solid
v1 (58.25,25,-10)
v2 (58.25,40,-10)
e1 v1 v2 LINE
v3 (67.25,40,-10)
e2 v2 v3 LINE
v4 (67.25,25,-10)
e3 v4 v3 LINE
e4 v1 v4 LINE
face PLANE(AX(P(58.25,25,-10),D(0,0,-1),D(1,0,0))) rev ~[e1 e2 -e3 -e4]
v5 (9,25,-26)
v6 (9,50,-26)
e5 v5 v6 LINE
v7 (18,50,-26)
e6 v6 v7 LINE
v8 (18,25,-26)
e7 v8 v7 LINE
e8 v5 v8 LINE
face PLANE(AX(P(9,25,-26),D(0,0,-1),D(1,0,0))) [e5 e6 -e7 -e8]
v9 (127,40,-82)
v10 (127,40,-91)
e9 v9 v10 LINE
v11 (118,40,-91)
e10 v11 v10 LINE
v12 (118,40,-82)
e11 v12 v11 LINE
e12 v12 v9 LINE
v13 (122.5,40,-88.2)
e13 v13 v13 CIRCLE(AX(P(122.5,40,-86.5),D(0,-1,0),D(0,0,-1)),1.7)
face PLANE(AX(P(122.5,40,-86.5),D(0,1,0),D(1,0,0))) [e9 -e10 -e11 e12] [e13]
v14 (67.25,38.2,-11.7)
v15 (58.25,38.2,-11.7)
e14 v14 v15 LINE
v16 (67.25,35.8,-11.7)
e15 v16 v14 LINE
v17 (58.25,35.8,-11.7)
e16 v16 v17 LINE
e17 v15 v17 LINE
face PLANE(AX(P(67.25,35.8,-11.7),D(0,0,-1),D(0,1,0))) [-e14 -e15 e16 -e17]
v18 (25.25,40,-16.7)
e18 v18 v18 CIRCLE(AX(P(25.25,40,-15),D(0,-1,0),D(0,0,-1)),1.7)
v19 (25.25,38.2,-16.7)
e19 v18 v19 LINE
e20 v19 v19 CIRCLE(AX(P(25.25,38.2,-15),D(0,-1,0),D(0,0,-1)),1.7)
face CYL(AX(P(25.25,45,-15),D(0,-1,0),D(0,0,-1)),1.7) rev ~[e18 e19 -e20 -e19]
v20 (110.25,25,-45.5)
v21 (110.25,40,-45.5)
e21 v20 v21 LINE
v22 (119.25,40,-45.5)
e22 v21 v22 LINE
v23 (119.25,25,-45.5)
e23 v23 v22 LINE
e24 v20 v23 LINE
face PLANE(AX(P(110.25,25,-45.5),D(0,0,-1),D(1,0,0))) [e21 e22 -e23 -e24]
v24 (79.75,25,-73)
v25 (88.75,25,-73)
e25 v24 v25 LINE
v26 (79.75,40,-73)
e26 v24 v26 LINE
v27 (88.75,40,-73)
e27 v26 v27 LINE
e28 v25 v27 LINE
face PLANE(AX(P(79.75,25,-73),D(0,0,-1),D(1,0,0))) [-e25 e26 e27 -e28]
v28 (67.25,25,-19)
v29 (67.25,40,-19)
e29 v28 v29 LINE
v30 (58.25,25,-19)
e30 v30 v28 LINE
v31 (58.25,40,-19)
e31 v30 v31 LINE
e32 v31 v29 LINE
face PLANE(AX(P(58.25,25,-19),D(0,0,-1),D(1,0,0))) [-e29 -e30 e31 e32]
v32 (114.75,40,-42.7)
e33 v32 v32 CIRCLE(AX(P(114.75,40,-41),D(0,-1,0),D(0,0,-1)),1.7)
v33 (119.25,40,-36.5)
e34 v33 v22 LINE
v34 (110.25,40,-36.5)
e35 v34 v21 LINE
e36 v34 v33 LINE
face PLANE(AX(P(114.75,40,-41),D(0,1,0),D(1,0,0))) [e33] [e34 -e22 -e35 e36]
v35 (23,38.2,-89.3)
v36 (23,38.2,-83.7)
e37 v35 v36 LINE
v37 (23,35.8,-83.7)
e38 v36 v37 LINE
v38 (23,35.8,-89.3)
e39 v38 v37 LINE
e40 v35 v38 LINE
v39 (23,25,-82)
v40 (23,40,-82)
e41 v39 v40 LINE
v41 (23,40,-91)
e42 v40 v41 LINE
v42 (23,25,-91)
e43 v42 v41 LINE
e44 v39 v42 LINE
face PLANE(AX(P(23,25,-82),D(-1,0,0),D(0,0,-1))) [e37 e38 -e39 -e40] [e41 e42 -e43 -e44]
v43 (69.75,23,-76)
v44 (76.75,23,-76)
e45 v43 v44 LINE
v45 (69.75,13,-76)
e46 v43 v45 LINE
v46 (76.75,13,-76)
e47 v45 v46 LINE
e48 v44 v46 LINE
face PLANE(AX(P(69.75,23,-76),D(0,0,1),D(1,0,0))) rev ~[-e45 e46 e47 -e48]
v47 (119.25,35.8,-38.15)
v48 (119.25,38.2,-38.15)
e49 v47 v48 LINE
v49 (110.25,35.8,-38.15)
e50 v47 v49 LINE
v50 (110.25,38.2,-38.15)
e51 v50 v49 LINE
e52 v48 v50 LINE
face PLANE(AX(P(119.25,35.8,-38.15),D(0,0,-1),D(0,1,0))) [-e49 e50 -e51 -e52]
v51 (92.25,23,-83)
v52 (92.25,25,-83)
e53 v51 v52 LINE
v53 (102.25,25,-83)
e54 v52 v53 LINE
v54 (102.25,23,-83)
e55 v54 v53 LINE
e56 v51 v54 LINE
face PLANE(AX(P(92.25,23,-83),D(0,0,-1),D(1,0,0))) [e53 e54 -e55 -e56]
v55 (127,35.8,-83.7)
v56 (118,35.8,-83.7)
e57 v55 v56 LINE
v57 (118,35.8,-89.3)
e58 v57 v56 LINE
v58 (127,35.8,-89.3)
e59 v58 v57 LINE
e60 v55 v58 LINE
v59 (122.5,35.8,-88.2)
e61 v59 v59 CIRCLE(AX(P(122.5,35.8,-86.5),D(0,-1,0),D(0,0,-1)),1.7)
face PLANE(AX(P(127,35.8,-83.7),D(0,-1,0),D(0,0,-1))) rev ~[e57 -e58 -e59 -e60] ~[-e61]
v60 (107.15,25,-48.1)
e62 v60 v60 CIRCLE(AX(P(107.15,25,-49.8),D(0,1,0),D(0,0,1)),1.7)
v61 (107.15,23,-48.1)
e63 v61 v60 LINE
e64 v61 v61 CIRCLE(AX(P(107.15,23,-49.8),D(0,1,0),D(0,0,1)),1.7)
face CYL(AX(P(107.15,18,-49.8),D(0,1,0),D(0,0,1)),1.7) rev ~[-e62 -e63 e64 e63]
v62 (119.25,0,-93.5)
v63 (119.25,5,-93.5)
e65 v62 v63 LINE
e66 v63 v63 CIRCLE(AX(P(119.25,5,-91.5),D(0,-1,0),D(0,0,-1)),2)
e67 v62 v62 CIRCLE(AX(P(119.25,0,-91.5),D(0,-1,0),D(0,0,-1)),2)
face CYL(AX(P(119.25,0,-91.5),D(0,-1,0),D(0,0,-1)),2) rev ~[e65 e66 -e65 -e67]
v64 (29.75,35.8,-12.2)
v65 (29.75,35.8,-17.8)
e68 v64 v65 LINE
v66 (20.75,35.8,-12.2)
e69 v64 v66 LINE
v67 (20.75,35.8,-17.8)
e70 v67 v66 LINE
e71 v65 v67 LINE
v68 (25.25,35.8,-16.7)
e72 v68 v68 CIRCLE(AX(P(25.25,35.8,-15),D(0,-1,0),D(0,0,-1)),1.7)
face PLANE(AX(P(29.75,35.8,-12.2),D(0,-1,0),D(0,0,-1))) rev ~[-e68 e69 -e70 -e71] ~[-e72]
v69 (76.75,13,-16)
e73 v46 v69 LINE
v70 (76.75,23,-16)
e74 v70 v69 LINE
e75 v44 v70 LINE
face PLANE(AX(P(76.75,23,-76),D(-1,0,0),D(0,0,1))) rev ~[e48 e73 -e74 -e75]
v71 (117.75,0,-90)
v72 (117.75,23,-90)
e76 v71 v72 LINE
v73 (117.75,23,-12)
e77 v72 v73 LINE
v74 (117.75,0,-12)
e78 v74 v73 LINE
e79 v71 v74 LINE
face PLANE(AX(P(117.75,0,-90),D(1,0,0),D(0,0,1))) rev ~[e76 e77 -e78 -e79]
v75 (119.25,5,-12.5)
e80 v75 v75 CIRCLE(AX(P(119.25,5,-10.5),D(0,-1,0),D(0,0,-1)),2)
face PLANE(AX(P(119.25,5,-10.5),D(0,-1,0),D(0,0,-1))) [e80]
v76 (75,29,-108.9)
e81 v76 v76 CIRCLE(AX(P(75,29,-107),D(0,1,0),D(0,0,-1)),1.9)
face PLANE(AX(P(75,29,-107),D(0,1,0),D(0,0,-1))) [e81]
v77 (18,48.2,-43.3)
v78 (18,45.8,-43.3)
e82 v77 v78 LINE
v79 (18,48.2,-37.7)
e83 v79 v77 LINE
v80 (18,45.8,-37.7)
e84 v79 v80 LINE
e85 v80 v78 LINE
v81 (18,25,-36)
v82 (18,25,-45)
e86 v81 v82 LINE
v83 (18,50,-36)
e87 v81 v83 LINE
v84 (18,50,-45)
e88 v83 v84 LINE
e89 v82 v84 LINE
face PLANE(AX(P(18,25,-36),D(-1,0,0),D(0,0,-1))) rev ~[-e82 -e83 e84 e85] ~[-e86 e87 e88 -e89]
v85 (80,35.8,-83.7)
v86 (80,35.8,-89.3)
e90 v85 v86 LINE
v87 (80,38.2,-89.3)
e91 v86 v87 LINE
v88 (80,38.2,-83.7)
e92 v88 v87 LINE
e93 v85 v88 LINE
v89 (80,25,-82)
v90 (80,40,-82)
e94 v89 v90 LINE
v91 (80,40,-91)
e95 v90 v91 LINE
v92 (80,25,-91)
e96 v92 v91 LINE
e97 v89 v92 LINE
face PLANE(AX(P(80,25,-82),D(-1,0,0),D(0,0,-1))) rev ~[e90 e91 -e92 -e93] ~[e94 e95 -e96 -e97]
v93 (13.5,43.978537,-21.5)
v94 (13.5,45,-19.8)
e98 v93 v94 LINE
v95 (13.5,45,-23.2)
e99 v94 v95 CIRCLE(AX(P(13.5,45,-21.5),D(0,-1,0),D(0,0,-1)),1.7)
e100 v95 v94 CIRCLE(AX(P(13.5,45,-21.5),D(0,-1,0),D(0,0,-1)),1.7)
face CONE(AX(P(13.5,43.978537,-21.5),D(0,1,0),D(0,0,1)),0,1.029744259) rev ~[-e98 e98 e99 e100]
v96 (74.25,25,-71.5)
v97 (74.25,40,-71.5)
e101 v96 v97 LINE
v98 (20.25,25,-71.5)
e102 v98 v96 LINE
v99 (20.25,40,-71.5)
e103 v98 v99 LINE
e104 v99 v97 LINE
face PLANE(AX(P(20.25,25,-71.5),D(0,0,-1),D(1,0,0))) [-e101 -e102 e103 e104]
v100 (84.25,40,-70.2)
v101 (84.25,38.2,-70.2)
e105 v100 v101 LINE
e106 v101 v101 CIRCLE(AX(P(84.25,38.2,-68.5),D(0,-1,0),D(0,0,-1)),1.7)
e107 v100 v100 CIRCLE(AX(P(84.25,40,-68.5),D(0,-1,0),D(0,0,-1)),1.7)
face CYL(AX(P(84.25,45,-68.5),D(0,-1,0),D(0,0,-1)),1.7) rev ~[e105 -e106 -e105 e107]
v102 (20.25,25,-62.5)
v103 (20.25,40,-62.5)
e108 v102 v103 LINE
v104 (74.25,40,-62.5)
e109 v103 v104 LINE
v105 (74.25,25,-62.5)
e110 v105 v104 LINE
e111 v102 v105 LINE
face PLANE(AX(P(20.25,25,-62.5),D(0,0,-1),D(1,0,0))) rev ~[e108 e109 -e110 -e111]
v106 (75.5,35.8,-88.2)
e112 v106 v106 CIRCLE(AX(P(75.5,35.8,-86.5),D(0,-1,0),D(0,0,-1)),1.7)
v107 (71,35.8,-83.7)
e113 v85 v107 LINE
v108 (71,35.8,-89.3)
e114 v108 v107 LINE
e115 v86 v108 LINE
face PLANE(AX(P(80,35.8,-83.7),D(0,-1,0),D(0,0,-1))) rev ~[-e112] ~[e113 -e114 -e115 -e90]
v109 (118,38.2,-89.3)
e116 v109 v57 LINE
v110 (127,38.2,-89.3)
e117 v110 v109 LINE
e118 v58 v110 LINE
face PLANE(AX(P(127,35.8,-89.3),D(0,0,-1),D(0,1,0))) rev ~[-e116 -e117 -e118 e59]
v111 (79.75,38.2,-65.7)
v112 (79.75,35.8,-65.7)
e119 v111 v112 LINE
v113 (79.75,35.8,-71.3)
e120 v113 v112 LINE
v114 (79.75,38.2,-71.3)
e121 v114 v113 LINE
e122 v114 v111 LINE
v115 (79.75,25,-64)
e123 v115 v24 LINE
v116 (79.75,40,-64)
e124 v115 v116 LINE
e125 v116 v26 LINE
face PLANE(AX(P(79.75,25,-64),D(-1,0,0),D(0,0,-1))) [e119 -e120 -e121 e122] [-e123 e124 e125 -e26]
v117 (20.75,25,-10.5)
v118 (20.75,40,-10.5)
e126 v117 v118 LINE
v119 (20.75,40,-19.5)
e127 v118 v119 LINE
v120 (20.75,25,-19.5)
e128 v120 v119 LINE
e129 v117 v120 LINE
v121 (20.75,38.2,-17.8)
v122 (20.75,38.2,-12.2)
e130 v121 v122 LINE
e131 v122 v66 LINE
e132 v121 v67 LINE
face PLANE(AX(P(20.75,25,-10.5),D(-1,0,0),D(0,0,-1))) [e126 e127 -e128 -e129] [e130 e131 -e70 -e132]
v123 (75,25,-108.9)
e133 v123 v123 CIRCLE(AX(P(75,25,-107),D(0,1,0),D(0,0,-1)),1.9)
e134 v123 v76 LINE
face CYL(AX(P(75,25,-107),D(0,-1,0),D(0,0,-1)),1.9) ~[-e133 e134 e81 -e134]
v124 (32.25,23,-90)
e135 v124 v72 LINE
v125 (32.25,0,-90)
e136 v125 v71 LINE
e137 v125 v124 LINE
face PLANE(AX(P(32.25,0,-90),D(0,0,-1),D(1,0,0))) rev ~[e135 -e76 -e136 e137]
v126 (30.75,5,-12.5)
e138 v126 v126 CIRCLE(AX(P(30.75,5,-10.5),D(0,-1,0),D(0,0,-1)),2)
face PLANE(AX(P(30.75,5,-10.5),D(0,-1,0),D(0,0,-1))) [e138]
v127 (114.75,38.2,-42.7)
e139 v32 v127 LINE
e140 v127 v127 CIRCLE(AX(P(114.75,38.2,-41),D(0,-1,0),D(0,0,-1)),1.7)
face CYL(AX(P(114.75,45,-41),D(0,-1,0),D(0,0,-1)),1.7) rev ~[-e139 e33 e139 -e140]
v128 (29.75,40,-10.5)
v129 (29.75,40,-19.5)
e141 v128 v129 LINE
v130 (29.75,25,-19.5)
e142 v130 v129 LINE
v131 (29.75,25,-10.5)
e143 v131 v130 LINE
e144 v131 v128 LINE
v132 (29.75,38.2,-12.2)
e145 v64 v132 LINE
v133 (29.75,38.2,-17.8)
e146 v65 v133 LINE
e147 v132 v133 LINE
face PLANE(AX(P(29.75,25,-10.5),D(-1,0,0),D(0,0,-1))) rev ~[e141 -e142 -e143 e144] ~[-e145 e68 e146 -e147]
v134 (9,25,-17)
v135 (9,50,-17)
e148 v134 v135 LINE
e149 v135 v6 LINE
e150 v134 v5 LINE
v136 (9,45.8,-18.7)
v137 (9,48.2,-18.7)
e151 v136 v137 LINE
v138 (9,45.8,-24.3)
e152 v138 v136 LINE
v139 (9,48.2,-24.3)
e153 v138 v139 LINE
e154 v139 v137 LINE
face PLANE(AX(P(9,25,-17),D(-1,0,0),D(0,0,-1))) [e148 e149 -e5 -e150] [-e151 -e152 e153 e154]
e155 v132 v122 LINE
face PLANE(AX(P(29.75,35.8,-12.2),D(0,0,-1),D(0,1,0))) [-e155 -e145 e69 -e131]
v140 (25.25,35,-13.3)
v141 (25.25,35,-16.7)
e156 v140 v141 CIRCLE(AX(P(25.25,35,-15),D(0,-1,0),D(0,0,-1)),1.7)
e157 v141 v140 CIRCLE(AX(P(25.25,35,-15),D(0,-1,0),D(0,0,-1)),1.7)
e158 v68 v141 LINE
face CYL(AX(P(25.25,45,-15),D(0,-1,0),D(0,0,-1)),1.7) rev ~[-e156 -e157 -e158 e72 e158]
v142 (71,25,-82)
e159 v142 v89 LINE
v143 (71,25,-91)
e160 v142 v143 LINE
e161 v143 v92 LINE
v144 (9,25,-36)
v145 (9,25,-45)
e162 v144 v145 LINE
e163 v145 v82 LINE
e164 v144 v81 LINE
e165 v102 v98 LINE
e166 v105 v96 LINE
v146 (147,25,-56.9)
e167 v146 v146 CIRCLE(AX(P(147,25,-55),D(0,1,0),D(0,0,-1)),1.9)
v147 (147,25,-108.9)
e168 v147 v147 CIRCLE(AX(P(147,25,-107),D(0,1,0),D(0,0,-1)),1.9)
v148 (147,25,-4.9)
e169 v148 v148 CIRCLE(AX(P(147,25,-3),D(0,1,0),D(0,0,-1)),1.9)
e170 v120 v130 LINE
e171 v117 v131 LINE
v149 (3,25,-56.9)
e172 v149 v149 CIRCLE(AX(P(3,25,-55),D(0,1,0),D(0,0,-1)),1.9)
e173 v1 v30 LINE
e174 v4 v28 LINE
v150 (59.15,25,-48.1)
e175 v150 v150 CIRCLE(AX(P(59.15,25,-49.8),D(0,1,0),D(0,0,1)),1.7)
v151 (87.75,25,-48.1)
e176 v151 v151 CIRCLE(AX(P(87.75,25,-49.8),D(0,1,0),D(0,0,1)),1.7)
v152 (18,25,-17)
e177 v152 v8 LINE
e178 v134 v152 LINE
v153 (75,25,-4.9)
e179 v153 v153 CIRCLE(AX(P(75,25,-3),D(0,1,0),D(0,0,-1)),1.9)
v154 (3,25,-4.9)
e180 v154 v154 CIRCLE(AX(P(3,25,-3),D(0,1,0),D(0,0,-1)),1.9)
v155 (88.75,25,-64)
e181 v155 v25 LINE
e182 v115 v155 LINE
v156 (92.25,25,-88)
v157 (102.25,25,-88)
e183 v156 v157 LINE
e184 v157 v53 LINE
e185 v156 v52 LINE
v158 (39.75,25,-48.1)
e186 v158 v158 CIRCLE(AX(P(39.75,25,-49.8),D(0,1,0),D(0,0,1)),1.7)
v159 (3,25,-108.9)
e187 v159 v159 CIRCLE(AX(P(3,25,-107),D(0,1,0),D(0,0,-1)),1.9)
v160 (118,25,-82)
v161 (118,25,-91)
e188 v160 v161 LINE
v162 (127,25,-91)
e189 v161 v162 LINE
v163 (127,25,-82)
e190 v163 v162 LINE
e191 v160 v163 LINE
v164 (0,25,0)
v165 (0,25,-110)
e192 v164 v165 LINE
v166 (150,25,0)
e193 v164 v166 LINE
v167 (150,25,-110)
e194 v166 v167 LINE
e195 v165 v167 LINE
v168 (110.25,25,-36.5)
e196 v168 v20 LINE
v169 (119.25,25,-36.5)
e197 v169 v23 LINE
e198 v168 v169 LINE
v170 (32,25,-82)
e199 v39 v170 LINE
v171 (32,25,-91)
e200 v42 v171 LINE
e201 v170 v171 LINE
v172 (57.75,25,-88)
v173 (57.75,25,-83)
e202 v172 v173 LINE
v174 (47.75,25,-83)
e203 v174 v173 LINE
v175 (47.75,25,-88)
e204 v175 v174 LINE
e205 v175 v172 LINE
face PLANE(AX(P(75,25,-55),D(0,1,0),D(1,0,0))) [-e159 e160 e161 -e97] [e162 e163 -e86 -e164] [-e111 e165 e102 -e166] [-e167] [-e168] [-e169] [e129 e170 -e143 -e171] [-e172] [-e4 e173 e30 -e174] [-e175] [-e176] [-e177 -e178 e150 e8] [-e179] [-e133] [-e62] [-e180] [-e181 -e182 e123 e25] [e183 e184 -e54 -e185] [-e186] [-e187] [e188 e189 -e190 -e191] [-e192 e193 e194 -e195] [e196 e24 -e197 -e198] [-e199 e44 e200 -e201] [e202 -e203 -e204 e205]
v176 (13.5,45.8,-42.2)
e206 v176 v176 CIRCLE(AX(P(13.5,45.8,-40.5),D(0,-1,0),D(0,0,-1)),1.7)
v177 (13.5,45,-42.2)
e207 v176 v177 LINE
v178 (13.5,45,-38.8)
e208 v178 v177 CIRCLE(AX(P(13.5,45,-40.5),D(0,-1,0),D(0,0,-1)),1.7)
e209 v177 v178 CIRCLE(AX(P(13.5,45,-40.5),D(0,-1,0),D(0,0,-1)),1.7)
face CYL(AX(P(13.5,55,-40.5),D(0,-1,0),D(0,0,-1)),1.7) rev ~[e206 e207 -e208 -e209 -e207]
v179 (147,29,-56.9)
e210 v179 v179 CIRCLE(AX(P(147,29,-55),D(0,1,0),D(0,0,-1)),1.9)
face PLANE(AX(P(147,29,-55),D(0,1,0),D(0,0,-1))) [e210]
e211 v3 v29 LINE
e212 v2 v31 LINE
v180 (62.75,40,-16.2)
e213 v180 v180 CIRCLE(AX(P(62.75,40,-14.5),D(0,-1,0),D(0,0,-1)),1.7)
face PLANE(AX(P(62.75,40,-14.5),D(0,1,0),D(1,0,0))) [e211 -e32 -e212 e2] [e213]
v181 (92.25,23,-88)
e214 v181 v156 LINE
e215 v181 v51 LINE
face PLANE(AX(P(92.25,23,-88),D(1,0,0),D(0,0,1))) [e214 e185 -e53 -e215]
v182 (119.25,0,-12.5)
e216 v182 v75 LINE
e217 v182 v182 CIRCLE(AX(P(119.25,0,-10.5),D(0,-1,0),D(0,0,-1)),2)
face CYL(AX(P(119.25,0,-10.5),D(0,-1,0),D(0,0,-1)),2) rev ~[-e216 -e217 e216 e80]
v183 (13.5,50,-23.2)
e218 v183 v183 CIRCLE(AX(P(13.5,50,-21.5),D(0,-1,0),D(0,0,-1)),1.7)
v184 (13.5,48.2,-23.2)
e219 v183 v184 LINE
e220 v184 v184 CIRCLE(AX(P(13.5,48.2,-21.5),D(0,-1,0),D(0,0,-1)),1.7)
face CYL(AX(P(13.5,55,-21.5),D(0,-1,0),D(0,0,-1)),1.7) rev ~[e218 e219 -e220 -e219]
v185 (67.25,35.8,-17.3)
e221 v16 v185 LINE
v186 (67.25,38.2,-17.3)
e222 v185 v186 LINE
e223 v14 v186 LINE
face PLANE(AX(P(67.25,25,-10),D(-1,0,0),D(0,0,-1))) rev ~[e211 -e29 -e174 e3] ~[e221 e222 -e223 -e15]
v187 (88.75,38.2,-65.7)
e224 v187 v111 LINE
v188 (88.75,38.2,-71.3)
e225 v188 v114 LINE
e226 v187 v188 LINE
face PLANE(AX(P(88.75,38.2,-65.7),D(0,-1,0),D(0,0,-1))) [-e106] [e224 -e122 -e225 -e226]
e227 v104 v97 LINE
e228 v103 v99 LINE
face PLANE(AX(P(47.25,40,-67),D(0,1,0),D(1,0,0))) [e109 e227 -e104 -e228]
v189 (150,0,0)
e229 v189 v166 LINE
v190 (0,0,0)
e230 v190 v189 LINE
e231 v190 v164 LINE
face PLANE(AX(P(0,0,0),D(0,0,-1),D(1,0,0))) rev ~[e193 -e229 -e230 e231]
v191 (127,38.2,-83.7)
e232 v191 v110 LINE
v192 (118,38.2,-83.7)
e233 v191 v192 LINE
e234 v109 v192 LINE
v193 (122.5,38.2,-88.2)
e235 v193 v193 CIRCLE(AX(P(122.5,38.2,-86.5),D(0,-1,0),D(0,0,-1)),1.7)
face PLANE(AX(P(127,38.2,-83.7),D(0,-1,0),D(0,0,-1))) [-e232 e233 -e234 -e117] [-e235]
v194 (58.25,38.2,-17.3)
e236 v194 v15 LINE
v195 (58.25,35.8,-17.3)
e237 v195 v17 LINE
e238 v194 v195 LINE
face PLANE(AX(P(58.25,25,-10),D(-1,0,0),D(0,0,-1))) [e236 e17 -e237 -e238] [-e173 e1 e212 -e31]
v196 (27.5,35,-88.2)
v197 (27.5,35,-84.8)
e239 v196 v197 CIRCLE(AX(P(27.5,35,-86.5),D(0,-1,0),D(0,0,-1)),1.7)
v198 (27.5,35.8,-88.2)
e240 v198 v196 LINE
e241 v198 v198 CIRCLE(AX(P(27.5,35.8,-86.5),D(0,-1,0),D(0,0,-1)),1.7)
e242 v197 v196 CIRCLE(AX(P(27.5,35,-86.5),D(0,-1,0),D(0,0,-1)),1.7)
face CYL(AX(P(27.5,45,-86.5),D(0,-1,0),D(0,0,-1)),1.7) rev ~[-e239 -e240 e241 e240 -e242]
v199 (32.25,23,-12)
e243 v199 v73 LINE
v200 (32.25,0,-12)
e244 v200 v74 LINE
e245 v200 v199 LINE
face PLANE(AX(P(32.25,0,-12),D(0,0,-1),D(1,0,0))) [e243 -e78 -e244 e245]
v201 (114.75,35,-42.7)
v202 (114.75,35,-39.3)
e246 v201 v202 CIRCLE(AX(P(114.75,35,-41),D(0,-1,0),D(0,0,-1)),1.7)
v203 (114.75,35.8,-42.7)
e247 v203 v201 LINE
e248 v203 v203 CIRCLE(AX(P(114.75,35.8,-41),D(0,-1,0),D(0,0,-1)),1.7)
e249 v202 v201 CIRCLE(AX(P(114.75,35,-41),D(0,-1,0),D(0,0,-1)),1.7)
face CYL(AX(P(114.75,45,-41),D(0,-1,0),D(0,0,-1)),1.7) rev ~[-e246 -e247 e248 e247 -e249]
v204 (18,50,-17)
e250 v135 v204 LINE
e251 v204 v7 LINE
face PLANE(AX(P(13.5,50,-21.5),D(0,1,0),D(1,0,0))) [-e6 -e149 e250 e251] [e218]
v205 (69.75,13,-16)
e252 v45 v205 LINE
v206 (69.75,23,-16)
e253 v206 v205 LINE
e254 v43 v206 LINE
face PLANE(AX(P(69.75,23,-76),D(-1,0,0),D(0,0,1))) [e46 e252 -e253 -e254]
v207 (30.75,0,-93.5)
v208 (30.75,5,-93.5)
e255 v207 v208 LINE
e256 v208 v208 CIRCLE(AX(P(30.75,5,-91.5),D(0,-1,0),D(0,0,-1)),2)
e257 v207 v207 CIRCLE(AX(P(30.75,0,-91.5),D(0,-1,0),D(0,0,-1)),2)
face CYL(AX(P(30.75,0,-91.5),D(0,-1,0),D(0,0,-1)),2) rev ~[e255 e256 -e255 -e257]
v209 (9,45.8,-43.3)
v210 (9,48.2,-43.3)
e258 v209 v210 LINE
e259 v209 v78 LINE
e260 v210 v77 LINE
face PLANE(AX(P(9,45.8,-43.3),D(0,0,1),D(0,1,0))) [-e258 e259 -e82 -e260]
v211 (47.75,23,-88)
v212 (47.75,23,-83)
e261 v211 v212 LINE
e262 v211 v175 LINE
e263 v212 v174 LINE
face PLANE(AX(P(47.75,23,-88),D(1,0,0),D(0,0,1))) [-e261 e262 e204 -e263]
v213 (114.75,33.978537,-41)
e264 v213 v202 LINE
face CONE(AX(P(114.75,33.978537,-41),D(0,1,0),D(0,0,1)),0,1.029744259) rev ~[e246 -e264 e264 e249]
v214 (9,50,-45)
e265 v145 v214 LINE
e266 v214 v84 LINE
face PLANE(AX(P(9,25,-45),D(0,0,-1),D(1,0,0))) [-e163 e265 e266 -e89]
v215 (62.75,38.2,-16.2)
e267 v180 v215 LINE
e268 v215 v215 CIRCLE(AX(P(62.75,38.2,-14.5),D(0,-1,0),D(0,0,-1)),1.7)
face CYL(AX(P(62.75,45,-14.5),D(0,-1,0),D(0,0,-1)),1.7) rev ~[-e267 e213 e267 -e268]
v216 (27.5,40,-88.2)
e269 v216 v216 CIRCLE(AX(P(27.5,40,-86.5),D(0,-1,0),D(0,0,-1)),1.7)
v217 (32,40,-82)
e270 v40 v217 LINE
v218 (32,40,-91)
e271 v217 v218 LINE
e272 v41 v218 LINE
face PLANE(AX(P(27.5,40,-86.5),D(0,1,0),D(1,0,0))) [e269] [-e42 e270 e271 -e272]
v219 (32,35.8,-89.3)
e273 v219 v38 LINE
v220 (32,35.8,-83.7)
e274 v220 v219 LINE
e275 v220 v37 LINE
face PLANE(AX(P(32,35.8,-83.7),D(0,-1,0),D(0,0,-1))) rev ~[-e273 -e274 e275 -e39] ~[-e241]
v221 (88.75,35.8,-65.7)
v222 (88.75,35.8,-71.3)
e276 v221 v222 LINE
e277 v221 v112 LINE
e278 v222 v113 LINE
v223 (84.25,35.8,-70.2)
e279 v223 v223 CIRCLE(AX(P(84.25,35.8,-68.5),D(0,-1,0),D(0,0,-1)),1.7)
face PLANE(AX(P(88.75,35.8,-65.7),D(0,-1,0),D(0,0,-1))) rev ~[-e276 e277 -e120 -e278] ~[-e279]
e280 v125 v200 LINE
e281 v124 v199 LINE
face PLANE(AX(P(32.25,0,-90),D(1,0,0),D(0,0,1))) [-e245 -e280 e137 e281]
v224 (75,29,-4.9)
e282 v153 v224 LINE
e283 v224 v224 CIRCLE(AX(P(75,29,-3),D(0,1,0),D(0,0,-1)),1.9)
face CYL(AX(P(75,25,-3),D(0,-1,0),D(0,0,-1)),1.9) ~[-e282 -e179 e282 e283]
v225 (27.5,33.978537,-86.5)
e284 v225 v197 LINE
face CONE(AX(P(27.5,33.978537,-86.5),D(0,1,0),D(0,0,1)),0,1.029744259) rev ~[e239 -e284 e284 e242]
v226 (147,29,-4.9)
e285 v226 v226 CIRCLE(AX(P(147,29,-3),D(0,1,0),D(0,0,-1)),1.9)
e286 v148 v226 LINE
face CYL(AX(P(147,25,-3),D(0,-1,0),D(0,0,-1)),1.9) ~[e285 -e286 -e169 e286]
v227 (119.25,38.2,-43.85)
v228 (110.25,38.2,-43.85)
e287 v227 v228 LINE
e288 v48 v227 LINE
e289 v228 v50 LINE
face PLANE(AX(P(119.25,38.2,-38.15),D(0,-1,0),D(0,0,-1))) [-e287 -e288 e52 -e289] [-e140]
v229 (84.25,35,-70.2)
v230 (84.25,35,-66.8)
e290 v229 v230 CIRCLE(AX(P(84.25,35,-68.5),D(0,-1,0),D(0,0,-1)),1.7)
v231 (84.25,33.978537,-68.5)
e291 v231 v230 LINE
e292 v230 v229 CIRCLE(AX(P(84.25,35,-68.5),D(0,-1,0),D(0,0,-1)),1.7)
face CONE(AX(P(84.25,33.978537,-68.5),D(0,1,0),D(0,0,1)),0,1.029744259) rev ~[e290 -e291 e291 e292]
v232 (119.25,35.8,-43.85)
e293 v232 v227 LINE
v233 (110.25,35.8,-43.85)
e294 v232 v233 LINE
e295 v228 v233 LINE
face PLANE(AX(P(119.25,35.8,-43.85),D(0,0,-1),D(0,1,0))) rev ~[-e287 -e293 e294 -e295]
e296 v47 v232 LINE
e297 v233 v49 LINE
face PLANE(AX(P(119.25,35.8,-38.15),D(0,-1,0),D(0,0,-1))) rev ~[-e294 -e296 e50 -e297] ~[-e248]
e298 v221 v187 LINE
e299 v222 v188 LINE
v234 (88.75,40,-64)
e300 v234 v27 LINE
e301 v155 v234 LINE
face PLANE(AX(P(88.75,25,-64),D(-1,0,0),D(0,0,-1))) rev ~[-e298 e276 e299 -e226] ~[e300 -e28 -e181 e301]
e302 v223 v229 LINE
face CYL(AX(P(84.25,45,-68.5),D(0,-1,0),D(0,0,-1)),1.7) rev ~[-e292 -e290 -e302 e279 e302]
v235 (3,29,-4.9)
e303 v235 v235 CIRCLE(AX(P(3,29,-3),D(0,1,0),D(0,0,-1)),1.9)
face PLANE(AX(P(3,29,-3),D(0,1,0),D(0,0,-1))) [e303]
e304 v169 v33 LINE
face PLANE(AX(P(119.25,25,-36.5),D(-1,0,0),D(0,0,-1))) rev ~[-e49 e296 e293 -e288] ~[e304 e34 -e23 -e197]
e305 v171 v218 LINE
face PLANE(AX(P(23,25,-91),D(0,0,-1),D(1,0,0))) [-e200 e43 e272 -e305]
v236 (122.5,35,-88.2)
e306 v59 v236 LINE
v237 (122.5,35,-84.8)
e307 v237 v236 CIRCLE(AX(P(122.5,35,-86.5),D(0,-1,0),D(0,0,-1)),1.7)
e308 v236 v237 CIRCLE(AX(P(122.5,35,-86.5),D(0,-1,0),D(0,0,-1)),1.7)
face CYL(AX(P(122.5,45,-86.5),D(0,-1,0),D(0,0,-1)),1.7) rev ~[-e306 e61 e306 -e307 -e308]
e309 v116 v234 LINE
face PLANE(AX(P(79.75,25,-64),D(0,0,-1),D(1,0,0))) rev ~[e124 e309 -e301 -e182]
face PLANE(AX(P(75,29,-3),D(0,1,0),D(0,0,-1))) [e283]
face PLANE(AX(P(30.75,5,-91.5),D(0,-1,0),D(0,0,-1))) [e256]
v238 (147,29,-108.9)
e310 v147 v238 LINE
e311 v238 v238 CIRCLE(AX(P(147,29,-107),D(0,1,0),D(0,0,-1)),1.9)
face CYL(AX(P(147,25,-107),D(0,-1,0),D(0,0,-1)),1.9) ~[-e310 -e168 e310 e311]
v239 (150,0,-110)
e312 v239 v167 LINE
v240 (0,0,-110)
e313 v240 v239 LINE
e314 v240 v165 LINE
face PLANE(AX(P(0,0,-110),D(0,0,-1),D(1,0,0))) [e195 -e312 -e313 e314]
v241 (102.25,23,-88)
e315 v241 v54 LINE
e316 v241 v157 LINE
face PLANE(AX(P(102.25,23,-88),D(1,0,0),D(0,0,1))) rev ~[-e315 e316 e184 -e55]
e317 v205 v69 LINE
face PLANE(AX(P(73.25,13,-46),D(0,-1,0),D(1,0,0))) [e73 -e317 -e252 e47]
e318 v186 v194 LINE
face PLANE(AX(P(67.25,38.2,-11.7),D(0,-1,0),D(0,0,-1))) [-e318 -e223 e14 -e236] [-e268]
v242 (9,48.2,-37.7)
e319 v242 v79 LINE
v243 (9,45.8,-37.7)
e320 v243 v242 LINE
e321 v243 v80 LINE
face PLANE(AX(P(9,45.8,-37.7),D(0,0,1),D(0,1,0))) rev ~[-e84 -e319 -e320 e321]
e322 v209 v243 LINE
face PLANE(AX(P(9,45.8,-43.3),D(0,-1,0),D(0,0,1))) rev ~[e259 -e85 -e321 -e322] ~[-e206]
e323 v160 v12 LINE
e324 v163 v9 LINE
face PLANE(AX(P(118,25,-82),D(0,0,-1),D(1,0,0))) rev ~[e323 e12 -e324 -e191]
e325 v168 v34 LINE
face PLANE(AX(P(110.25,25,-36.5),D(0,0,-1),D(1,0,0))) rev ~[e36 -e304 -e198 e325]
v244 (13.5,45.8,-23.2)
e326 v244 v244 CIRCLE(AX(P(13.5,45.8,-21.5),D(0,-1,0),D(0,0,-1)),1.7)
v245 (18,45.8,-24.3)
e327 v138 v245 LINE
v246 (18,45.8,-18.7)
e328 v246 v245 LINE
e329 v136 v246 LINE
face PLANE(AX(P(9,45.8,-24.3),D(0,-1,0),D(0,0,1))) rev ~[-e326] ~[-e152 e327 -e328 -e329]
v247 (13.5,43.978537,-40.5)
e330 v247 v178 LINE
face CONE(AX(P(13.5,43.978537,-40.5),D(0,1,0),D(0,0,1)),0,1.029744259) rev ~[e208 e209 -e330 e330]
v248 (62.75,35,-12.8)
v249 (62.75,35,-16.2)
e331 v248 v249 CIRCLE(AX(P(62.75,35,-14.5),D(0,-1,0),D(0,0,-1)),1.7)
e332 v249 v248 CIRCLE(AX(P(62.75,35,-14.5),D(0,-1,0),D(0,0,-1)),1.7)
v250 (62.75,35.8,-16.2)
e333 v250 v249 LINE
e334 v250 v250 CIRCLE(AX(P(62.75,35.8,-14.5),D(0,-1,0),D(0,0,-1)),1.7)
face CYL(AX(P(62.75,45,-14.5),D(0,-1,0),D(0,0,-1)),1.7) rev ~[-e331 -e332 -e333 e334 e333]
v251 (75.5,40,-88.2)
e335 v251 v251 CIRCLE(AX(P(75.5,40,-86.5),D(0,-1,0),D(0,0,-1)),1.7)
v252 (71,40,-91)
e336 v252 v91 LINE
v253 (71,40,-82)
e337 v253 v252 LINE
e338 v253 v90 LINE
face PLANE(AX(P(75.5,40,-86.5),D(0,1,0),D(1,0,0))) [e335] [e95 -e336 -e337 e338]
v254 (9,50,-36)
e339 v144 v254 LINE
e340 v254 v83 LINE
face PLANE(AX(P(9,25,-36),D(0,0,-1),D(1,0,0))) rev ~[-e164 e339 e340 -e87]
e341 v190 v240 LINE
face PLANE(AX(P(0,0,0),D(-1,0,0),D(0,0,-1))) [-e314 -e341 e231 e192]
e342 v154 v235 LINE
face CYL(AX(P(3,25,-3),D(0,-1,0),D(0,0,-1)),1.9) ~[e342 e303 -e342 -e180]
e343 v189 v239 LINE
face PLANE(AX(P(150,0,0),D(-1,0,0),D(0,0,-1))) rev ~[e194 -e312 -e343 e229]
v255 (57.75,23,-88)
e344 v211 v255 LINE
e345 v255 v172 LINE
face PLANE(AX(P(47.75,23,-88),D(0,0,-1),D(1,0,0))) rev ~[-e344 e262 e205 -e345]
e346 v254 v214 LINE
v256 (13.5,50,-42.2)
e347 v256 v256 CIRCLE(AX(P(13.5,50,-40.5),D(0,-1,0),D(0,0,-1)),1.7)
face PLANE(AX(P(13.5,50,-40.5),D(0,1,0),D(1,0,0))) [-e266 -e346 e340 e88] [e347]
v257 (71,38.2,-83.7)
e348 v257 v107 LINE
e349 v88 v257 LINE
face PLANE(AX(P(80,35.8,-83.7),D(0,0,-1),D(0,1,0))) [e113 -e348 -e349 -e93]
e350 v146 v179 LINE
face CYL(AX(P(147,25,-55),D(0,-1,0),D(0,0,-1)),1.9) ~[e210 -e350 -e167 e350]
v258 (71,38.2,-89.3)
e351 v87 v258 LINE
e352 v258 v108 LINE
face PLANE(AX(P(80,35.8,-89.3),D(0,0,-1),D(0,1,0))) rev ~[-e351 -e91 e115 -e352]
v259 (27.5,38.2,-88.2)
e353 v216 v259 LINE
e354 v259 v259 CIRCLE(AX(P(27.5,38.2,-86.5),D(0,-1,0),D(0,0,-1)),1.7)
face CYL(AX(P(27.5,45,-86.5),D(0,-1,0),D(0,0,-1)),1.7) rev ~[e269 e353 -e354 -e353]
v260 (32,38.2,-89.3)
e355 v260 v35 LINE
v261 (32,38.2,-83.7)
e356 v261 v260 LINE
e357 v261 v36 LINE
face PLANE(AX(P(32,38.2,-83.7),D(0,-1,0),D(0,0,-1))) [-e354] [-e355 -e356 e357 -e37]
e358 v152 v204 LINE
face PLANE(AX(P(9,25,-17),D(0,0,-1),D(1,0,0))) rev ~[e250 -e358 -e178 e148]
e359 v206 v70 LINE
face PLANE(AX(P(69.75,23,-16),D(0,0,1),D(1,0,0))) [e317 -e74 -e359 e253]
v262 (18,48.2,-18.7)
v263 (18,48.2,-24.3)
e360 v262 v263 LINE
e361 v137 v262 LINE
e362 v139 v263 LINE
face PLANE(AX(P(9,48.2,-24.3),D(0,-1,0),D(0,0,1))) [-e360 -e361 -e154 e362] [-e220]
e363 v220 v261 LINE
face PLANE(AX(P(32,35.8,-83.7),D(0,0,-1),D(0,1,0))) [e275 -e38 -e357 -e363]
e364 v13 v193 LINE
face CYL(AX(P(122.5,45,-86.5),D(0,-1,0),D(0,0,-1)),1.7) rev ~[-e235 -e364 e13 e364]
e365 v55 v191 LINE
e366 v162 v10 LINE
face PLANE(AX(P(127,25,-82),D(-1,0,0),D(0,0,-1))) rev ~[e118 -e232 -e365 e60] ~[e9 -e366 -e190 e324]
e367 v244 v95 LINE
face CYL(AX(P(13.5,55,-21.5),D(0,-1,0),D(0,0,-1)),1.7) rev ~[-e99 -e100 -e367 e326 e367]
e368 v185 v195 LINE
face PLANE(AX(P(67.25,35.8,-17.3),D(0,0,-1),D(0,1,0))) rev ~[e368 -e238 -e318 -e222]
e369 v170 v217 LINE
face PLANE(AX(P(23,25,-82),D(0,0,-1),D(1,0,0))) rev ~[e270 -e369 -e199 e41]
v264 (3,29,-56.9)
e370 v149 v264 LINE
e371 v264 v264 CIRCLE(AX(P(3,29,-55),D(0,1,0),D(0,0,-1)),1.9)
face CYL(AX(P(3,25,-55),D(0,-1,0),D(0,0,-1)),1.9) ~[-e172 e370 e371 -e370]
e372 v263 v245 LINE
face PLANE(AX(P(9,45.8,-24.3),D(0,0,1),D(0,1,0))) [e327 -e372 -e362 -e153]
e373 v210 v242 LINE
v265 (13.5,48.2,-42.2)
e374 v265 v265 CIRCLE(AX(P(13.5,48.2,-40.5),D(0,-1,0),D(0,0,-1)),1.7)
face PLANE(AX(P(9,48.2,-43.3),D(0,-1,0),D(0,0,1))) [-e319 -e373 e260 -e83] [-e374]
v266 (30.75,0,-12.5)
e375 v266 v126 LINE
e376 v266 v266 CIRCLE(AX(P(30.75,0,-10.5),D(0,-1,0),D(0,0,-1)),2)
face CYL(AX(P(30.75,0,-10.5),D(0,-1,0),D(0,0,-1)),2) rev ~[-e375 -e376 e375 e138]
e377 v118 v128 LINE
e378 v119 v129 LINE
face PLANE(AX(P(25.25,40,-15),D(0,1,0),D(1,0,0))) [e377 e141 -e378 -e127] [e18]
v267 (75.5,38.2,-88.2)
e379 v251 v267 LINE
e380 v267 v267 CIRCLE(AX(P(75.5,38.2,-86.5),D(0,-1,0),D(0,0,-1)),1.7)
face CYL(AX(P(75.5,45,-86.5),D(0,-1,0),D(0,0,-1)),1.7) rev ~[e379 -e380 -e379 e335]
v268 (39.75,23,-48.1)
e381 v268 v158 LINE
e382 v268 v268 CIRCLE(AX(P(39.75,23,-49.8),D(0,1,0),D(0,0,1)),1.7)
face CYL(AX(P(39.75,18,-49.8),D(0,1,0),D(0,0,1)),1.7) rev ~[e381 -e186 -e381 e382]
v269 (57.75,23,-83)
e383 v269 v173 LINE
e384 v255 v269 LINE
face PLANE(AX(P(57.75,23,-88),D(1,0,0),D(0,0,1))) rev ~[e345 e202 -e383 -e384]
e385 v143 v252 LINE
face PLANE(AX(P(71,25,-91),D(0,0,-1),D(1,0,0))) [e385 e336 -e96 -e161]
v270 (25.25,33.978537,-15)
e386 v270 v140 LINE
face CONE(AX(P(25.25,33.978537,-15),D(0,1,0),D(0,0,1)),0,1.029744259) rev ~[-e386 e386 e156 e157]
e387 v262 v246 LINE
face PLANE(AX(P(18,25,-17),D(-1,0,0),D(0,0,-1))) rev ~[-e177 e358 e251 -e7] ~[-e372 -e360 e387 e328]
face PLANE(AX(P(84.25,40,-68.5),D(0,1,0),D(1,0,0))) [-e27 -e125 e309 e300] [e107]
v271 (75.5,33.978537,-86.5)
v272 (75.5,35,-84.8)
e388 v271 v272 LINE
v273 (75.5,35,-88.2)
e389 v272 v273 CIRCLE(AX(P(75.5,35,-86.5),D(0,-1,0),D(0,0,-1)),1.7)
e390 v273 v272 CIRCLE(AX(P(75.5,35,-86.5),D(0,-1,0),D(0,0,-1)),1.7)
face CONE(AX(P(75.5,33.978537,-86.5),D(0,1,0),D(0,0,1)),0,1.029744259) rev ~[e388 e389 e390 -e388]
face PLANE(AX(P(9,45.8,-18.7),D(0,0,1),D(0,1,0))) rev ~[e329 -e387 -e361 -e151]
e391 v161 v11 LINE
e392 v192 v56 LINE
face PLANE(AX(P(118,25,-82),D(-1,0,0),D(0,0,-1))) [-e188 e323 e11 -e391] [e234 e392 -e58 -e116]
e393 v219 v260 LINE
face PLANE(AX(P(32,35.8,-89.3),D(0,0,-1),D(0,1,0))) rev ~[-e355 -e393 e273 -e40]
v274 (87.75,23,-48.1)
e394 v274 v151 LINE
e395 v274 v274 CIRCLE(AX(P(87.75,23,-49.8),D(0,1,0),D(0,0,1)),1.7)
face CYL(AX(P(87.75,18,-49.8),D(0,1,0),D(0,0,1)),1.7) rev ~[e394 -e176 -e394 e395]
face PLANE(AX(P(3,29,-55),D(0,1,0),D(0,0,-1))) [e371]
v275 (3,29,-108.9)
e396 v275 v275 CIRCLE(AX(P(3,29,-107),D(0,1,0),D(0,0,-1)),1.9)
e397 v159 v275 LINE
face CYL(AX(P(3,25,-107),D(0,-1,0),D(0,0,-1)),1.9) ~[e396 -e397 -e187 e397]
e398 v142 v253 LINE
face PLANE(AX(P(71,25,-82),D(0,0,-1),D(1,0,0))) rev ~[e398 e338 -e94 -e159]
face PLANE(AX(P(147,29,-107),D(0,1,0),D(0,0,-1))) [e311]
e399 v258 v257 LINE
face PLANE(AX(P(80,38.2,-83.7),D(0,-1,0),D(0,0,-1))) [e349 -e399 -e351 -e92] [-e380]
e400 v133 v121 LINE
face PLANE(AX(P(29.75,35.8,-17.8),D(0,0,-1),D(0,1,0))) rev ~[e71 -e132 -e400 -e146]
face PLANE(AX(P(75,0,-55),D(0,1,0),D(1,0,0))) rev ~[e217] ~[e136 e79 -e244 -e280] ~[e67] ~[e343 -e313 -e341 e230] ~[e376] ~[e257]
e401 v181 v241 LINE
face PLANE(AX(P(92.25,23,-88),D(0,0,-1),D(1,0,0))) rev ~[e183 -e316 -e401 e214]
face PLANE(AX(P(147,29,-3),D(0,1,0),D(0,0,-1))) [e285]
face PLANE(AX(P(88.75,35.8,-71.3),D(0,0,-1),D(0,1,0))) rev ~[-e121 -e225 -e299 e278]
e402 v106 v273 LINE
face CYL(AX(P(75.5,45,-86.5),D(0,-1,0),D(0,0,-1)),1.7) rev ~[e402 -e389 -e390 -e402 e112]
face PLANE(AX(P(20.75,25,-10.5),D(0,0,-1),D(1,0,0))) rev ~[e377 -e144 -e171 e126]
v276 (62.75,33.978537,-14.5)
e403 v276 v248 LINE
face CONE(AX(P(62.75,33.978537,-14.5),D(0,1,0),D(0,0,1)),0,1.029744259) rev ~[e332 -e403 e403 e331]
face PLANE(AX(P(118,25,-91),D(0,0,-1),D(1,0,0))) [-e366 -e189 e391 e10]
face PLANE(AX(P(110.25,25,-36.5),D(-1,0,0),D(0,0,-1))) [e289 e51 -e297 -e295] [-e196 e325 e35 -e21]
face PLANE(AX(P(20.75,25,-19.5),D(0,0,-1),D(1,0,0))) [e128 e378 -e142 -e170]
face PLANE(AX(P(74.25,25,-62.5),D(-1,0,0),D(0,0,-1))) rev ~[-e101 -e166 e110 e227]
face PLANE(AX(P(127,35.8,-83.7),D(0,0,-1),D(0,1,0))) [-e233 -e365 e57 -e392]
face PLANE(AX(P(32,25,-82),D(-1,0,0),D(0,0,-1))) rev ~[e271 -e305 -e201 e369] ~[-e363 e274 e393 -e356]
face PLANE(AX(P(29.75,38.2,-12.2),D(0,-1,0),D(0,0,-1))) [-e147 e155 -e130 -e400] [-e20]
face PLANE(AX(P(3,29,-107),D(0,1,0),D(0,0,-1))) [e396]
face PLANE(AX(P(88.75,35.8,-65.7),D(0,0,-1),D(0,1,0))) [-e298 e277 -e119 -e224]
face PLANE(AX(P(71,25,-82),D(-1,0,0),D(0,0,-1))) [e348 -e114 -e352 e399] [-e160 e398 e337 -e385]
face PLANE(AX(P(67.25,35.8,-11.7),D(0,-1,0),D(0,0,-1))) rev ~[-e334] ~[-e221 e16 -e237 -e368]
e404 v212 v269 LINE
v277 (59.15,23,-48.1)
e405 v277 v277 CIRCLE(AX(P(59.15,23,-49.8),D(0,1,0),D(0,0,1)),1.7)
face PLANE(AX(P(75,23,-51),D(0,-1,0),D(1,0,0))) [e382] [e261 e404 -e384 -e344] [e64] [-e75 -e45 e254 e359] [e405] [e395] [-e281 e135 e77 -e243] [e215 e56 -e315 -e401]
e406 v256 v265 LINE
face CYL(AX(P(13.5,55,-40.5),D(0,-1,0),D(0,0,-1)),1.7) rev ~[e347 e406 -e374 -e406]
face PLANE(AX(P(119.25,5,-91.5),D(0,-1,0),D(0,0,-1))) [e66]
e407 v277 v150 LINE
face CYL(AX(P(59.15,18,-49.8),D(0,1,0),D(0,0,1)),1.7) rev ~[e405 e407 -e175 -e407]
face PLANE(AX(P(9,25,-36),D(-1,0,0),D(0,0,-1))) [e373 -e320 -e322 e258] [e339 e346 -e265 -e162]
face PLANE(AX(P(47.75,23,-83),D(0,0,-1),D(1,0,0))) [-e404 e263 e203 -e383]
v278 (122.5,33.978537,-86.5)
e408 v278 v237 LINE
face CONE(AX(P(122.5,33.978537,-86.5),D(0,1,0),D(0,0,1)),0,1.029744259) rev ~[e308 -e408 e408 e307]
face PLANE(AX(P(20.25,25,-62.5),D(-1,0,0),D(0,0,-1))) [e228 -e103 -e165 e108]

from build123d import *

# Parameters (mm, degrees)
SKETCH1_W                = 150
SKETCH1_H                = 110
BOSS_EXTRUDE1_DEPTH      = 25
SKETCH27_R               = 1.9
CONNECTORS_DEPTH         = 4
SKETCH31_W               = 9
SKETCH31_H               = 9
PILLARS_DEPTH            = 15
M3_CLEARANCE_HOLE3_D     = 3.4
M3_CLEARANCE_HOLE3_DEPTH = 5
M3_CLEARANCE_HOLE3_TIP   = 1.021463052
SKETCH33_W               = 5.7
SKETCH33_H               = 2.4
NUT1_DEPTH               = 10
SKETCH34_W               = 5.6
SKETCH34_H               = 2.4
NUT2_DEPTH               = 10
SKETCH37_W               = 5.6
SKETCH37_H               = 2.4
NUT5_DEPTH               = 10
SKETCH38_W               = 5.6
SKETCH38_H               = 2.4
NUT6_DEPTH               = 10
SKETCH10_W               = 85.5
SKETCH10_H               = 78
BATTERY_HOLDER_DEPTH     = 23
SKETCH39_W               = 7
SKETCH39_H               = 60
DIVIDER_DEPTH            = 10
M3_CLEARANCE_HOLE4_D     = 3.4
M3_CLEARANCE_HOLE4_DEPTH = 5
M3_CLEARANCE_HOLE4_TIP   = 1.021463052
SKETCH41_W               = 10
SKETCH41_H               = 5
BATTERY_WIRE_DEPTH       = 2
SKETCH42_R               = 2
CONNECTOR_BOTTOM_DEPTH   = 5
SKETCH43_W               = 54
SKETCH43_H               = 9
PCB_REST_DEPTH           = 15
SKETCH44_W               = 5.6
SKETCH44_H               = 2.4
NUT3_DEPTH               = 10
SKETCH45_W               = 5.6
SKETCH45_H               = 2.4
NUT4_DEPTH               = 10
SKETCH46_W               = 5.6
SKETCH46_H               = 2.4
NUT7_DEPTH               = 10
SKETCH48_W               = 9
SKETCH48_H               = 9
PCBINPUT_PILLARS_DEPTH   = 25
NUT8_REACH               = 187.691
SKETCH49_W               = 5.6
SKETCH49_H               = 2.4
NUT9_REACH               = 187.691
SKETCH50_W               = 5.6
SKETCH50_H               = 2.4
M3_CLEARANCE_HOLE5_D     = 3.4
M3_CLEARANCE_HOLE5_DEPTH = 5
M3_CLEARANCE_HOLE5_TIP   = 1.021463052


with BuildPart() as part:
    # Sketch1 → Boss-Extrude1 (new body)
    with BuildSketch(Plane(origin=(0, 0, 0), x_dir=(1, 0, 0), z_dir=(0, 1, 0))):
        with Locations((75, 55)):
            Rectangle(SKETCH1_W, SKETCH1_H)
    extrude(amount=BOSS_EXTRUDE1_DEPTH)

    # Sketch27 → Connectors (add)
    with BuildSketch(Plane(origin=(0, 25, 0), x_dir=(1, 0, 0), z_dir=(0, 1, 0))):
        with Locations(Location((3, 107, 0), (0, 0, 90))):
            Circle(SKETCH27_R)
        with Locations(Location((75, 107, 0), (0, 0, 90))):
            Circle(SKETCH27_R)
        with Locations(Location((147, 107, 0), (0, 0, 90))):
            Circle(SKETCH27_R)
        with Locations(Location((147, 55, 0), (0, 0, 90))):
            Circle(SKETCH27_R)
        with Locations(Location((147, 3, 0), (0, 0, 90))):
            Circle(SKETCH27_R)
        with Locations(Location((75, 3, 0), (0, 0, 90))):
            Circle(SKETCH27_R)
        with Locations(Location((3, 3, 0), (0, 0, 90))):
            Circle(SKETCH27_R)
        with Locations(Location((3, 55, 0), (0, 0, 90))):
            Circle(SKETCH27_R)
    extrude(amount=CONNECTORS_DEPTH)

    # Sketch31 → Pillars (add)
    with BuildSketch(Plane(origin=(0, 25, 0), x_dir=(1, 0, 0), z_dir=(0, 1, 0))):
        with Locations((122.5, 86.5)):
            Rectangle(SKETCH31_W, SKETCH31_H)
        with Locations((25.25, 15)):
            Rectangle(SKETCH31_W, SKETCH31_H)
        with Locations((62.75, 14.5)):
            Rectangle(SKETCH31_W, SKETCH31_H)
        with Locations((114.75, 41)):
            Rectangle(SKETCH31_W, SKETCH31_H)
        with Locations((84.25, 68.5)):
            Rectangle(SKETCH31_W, SKETCH31_H)
        with Locations((75.5, 86.5)):
            Rectangle(SKETCH31_W, SKETCH31_H)
        with Locations((27.5, 86.5)):
            Rectangle(SKETCH31_W, SKETCH31_H)
    extrude(amount=PILLARS_DEPTH)

    # M3 Clearance Hole3
    with Locations(Plane(origin=(84.25, 40, -68.5), x_dir=(0, 0, 1), z_dir=(0, 1, 0))):
        with Locations((0, 0), (27.5, 30.5), (54, -21.5), (53.5, -59), (-18, -56.75), (-18, -8.75), (-18, 38.25)):
            Hole(M3_CLEARANCE_HOLE3_D / 2, depth=M3_CLEARANCE_HOLE3_DEPTH)
            with Locations((0, 0, -(M3_CLEARANCE_HOLE3_DEPTH + M3_CLEARANCE_HOLE3_TIP / 2))):  # 118° drill point
                Cone(0, M3_CLEARANCE_HOLE3_D / 2, M3_CLEARANCE_HOLE3_TIP, mode=Mode.SUBTRACT)

    # Sketch33 → Nut1 (cut)
    with BuildSketch(Plane(origin=(119.25, 0, 0), x_dir=(0, 0, -1), z_dir=(1, 0, 0))):
        with Locations((41, 37)):
            Rectangle(SKETCH33_W, SKETCH33_H)
    extrude(amount=-NUT1_DEPTH, mode=Mode.SUBTRACT)

    # Sketch34 → Nut2 (cut)
    with BuildSketch(Plane(origin=(88.75, 0, 0), x_dir=(0, 0, -1), z_dir=(1, 0, 0))):
        with Locations((68.5, 37)):
            Rectangle(SKETCH34_W, SKETCH34_H)
    extrude(amount=-NUT2_DEPTH, mode=Mode.SUBTRACT)

    # Sketch37 → Nut5 (cut)
    with BuildSketch(Plane(origin=(67.25, 0, 0), x_dir=(0, 0, -1), z_dir=(1, 0, 0))):
        with Locations((14.5, 37)):
            Rectangle(SKETCH37_W, SKETCH37_H)
    extrude(amount=-NUT5_DEPTH, mode=Mode.SUBTRACT)

    # Sketch38 → Nut6 (cut)
    with BuildSketch(Plane(origin=(29.75, 0, 0), x_dir=(0, 0, -1), z_dir=(1, 0, 0))):
        with Locations((15, 37)):
            Rectangle(SKETCH38_W, SKETCH38_H)
    extrude(amount=-NUT6_DEPTH, mode=Mode.SUBTRACT)

    # Sketch10 → Battery holder (cut)
    with BuildSketch(Plane.XZ):
        with Locations((75, -51)):
            Rectangle(SKETCH10_W, SKETCH10_H)
    extrude(amount=-BATTERY_HOLDER_DEPTH, mode=Mode.SUBTRACT)

    # Sketch39 → Divider (add)
    with BuildSketch(Plane.XZ.offset(-23)):
        with Locations((73.25, -46)):
            Rectangle(SKETCH39_W, SKETCH39_H)
    extrude(amount=DIVIDER_DEPTH)

    # M3 Clearance Hole4
    with Locations(Plane(origin=(107.15, 23, -49.8), x_dir=(0, 0, -1), z_dir=(0, -1, 0))):
        with Locations((0, 0), (0, -19.4), (0, -48), (0, -67.4)):
            Hole(M3_CLEARANCE_HOLE4_D / 2, depth=M3_CLEARANCE_HOLE4_DEPTH)
            with Locations((0, 0, -(M3_CLEARANCE_HOLE4_DEPTH + M3_CLEARANCE_HOLE4_TIP / 2))):  # 118° drill point
                Cone(0, M3_CLEARANCE_HOLE4_D / 2, M3_CLEARANCE_HOLE4_TIP, mode=Mode.SUBTRACT)

    # Sketch41 → Battery wire (cut)
    with BuildSketch(Plane.XZ.offset(-23)):
        with Locations((97.25, -85.5)):
            Rectangle(SKETCH41_W, SKETCH41_H)
        with Locations((52.75, -85.5)):
            Rectangle(SKETCH41_W, SKETCH41_H)
    extrude(amount=-BATTERY_WIRE_DEPTH, mode=Mode.SUBTRACT)

    # Sketch42 → Connector bottom (cut)
    with BuildSketch(Plane.XZ):
        with Locations(Location((119.25, -10.5, 0), (0, 0, 270))):
            Circle(SKETCH42_R)
        with Locations(Location((30.75, -10.5, 0), (0, 0, 270))):
            Circle(SKETCH42_R)
        with Locations(Location((30.75, -91.5, 0), (0, 0, 270))):
            Circle(SKETCH42_R)
        with Locations(Location((119.25, -91.5, 0), (0, 0, 270))):
            Circle(SKETCH42_R)
    extrude(amount=-CONNECTOR_BOTTOM_DEPTH, mode=Mode.SUBTRACT)

    # Sketch43 → PCB rest (add)
    with BuildSketch(Plane(origin=(0, 25, 0), x_dir=(1, 0, 0), z_dir=(0, 1, 0))):
        with Locations((47.25, 67)):
            Rectangle(SKETCH43_W, SKETCH43_H)
    extrude(amount=PCB_REST_DEPTH)

    # Sketch44 → Nut3 (cut)
    with BuildSketch(Plane(origin=(127, 0, 0), x_dir=(0, 0, -1), z_dir=(1, 0, 0))):
        with Locations((86.5, 37)):
            Rectangle(SKETCH44_W, SKETCH44_H)
    extrude(amount=-NUT3_DEPTH, mode=Mode.SUBTRACT)

    # Sketch45 → Nut4 (cut)
    with BuildSketch(Plane(origin=(80, 0, 0), x_dir=(0, 0, -1), z_dir=(1, 0, 0))):
        with Locations((86.5, 37)):
            Rectangle(SKETCH45_W, SKETCH45_H)
    extrude(amount=-NUT4_DEPTH, mode=Mode.SUBTRACT)

    # Sketch46 → Nut7 (cut)
    with BuildSketch(Plane(origin=(32, 0, 0), x_dir=(0, 0, -1), z_dir=(1, 0, 0))):
        with Locations((86.5, 37)):
            Rectangle(SKETCH46_W, SKETCH46_H)
    extrude(amount=-NUT7_DEPTH, mode=Mode.SUBTRACT)

    # Sketch48 → PCBInput pillars (add)
    with BuildSketch(Plane(origin=(0, 25, 0), x_dir=(1, 0, 0), z_dir=(0, 1, 0))):
        with Locations((13.5, 40.5)):
            Rectangle(SKETCH48_W, SKETCH48_H)
        with Locations((13.5, 21.5)):
            Rectangle(SKETCH48_W, SKETCH48_H)
    extrude(amount=PCBINPUT_PILLARS_DEPTH)

    # Sketch49 → Nut8 (cut, up to next)
    with BuildSketch(Plane.ZY.offset(-9), mode=Mode.PRIVATE) as nut8_sk1:
        with Locations((-21.5, 47)):
            Rectangle(SKETCH49_W, SKETCH49_H)
    nut8_tool1 = extrude(nut8_sk1.sketch, amount=-NUT8_REACH, mode=Mode.PRIVATE) & part.part
    add(nut8_tool1.solids().sort_by_distance((9, 47, -21.5))[0], mode=Mode.SUBTRACT)

    # Sketch50 → Nut9 (cut, up to next)
    with BuildSketch(Plane.ZY.offset(-9), mode=Mode.PRIVATE) as nut9_sk1:
        with Locations((-40.5, 47)):
            Rectangle(SKETCH50_W, SKETCH50_H)
    nut9_tool1 = extrude(nut9_sk1.sketch, amount=-NUT9_REACH, mode=Mode.PRIVATE) & part.part
    add(nut9_tool1.solids().sort_by_distance((9, 47, -40.5))[0], mode=Mode.SUBTRACT)

    # M3 Clearance Hole5
    with Locations(Plane(origin=(13.5, 50, -40.5), x_dir=(0, 0, 1), z_dir=(0, 1, 0))):
        with Locations((0, 0), (19, 0)):
            Hole(M3_CLEARANCE_HOLE5_D / 2, depth=M3_CLEARANCE_HOLE5_DEPTH)
            with Locations((0, 0, -(M3_CLEARANCE_HOLE5_DEPTH + M3_CLEARANCE_HOLE5_TIP / 2))):  # 118° drill point
                Cone(0, M3_CLEARANCE_HOLE5_D / 2, M3_CLEARANCE_HOLE5_TIP, mode=Mode.SUBTRACT)


solid = part.part
